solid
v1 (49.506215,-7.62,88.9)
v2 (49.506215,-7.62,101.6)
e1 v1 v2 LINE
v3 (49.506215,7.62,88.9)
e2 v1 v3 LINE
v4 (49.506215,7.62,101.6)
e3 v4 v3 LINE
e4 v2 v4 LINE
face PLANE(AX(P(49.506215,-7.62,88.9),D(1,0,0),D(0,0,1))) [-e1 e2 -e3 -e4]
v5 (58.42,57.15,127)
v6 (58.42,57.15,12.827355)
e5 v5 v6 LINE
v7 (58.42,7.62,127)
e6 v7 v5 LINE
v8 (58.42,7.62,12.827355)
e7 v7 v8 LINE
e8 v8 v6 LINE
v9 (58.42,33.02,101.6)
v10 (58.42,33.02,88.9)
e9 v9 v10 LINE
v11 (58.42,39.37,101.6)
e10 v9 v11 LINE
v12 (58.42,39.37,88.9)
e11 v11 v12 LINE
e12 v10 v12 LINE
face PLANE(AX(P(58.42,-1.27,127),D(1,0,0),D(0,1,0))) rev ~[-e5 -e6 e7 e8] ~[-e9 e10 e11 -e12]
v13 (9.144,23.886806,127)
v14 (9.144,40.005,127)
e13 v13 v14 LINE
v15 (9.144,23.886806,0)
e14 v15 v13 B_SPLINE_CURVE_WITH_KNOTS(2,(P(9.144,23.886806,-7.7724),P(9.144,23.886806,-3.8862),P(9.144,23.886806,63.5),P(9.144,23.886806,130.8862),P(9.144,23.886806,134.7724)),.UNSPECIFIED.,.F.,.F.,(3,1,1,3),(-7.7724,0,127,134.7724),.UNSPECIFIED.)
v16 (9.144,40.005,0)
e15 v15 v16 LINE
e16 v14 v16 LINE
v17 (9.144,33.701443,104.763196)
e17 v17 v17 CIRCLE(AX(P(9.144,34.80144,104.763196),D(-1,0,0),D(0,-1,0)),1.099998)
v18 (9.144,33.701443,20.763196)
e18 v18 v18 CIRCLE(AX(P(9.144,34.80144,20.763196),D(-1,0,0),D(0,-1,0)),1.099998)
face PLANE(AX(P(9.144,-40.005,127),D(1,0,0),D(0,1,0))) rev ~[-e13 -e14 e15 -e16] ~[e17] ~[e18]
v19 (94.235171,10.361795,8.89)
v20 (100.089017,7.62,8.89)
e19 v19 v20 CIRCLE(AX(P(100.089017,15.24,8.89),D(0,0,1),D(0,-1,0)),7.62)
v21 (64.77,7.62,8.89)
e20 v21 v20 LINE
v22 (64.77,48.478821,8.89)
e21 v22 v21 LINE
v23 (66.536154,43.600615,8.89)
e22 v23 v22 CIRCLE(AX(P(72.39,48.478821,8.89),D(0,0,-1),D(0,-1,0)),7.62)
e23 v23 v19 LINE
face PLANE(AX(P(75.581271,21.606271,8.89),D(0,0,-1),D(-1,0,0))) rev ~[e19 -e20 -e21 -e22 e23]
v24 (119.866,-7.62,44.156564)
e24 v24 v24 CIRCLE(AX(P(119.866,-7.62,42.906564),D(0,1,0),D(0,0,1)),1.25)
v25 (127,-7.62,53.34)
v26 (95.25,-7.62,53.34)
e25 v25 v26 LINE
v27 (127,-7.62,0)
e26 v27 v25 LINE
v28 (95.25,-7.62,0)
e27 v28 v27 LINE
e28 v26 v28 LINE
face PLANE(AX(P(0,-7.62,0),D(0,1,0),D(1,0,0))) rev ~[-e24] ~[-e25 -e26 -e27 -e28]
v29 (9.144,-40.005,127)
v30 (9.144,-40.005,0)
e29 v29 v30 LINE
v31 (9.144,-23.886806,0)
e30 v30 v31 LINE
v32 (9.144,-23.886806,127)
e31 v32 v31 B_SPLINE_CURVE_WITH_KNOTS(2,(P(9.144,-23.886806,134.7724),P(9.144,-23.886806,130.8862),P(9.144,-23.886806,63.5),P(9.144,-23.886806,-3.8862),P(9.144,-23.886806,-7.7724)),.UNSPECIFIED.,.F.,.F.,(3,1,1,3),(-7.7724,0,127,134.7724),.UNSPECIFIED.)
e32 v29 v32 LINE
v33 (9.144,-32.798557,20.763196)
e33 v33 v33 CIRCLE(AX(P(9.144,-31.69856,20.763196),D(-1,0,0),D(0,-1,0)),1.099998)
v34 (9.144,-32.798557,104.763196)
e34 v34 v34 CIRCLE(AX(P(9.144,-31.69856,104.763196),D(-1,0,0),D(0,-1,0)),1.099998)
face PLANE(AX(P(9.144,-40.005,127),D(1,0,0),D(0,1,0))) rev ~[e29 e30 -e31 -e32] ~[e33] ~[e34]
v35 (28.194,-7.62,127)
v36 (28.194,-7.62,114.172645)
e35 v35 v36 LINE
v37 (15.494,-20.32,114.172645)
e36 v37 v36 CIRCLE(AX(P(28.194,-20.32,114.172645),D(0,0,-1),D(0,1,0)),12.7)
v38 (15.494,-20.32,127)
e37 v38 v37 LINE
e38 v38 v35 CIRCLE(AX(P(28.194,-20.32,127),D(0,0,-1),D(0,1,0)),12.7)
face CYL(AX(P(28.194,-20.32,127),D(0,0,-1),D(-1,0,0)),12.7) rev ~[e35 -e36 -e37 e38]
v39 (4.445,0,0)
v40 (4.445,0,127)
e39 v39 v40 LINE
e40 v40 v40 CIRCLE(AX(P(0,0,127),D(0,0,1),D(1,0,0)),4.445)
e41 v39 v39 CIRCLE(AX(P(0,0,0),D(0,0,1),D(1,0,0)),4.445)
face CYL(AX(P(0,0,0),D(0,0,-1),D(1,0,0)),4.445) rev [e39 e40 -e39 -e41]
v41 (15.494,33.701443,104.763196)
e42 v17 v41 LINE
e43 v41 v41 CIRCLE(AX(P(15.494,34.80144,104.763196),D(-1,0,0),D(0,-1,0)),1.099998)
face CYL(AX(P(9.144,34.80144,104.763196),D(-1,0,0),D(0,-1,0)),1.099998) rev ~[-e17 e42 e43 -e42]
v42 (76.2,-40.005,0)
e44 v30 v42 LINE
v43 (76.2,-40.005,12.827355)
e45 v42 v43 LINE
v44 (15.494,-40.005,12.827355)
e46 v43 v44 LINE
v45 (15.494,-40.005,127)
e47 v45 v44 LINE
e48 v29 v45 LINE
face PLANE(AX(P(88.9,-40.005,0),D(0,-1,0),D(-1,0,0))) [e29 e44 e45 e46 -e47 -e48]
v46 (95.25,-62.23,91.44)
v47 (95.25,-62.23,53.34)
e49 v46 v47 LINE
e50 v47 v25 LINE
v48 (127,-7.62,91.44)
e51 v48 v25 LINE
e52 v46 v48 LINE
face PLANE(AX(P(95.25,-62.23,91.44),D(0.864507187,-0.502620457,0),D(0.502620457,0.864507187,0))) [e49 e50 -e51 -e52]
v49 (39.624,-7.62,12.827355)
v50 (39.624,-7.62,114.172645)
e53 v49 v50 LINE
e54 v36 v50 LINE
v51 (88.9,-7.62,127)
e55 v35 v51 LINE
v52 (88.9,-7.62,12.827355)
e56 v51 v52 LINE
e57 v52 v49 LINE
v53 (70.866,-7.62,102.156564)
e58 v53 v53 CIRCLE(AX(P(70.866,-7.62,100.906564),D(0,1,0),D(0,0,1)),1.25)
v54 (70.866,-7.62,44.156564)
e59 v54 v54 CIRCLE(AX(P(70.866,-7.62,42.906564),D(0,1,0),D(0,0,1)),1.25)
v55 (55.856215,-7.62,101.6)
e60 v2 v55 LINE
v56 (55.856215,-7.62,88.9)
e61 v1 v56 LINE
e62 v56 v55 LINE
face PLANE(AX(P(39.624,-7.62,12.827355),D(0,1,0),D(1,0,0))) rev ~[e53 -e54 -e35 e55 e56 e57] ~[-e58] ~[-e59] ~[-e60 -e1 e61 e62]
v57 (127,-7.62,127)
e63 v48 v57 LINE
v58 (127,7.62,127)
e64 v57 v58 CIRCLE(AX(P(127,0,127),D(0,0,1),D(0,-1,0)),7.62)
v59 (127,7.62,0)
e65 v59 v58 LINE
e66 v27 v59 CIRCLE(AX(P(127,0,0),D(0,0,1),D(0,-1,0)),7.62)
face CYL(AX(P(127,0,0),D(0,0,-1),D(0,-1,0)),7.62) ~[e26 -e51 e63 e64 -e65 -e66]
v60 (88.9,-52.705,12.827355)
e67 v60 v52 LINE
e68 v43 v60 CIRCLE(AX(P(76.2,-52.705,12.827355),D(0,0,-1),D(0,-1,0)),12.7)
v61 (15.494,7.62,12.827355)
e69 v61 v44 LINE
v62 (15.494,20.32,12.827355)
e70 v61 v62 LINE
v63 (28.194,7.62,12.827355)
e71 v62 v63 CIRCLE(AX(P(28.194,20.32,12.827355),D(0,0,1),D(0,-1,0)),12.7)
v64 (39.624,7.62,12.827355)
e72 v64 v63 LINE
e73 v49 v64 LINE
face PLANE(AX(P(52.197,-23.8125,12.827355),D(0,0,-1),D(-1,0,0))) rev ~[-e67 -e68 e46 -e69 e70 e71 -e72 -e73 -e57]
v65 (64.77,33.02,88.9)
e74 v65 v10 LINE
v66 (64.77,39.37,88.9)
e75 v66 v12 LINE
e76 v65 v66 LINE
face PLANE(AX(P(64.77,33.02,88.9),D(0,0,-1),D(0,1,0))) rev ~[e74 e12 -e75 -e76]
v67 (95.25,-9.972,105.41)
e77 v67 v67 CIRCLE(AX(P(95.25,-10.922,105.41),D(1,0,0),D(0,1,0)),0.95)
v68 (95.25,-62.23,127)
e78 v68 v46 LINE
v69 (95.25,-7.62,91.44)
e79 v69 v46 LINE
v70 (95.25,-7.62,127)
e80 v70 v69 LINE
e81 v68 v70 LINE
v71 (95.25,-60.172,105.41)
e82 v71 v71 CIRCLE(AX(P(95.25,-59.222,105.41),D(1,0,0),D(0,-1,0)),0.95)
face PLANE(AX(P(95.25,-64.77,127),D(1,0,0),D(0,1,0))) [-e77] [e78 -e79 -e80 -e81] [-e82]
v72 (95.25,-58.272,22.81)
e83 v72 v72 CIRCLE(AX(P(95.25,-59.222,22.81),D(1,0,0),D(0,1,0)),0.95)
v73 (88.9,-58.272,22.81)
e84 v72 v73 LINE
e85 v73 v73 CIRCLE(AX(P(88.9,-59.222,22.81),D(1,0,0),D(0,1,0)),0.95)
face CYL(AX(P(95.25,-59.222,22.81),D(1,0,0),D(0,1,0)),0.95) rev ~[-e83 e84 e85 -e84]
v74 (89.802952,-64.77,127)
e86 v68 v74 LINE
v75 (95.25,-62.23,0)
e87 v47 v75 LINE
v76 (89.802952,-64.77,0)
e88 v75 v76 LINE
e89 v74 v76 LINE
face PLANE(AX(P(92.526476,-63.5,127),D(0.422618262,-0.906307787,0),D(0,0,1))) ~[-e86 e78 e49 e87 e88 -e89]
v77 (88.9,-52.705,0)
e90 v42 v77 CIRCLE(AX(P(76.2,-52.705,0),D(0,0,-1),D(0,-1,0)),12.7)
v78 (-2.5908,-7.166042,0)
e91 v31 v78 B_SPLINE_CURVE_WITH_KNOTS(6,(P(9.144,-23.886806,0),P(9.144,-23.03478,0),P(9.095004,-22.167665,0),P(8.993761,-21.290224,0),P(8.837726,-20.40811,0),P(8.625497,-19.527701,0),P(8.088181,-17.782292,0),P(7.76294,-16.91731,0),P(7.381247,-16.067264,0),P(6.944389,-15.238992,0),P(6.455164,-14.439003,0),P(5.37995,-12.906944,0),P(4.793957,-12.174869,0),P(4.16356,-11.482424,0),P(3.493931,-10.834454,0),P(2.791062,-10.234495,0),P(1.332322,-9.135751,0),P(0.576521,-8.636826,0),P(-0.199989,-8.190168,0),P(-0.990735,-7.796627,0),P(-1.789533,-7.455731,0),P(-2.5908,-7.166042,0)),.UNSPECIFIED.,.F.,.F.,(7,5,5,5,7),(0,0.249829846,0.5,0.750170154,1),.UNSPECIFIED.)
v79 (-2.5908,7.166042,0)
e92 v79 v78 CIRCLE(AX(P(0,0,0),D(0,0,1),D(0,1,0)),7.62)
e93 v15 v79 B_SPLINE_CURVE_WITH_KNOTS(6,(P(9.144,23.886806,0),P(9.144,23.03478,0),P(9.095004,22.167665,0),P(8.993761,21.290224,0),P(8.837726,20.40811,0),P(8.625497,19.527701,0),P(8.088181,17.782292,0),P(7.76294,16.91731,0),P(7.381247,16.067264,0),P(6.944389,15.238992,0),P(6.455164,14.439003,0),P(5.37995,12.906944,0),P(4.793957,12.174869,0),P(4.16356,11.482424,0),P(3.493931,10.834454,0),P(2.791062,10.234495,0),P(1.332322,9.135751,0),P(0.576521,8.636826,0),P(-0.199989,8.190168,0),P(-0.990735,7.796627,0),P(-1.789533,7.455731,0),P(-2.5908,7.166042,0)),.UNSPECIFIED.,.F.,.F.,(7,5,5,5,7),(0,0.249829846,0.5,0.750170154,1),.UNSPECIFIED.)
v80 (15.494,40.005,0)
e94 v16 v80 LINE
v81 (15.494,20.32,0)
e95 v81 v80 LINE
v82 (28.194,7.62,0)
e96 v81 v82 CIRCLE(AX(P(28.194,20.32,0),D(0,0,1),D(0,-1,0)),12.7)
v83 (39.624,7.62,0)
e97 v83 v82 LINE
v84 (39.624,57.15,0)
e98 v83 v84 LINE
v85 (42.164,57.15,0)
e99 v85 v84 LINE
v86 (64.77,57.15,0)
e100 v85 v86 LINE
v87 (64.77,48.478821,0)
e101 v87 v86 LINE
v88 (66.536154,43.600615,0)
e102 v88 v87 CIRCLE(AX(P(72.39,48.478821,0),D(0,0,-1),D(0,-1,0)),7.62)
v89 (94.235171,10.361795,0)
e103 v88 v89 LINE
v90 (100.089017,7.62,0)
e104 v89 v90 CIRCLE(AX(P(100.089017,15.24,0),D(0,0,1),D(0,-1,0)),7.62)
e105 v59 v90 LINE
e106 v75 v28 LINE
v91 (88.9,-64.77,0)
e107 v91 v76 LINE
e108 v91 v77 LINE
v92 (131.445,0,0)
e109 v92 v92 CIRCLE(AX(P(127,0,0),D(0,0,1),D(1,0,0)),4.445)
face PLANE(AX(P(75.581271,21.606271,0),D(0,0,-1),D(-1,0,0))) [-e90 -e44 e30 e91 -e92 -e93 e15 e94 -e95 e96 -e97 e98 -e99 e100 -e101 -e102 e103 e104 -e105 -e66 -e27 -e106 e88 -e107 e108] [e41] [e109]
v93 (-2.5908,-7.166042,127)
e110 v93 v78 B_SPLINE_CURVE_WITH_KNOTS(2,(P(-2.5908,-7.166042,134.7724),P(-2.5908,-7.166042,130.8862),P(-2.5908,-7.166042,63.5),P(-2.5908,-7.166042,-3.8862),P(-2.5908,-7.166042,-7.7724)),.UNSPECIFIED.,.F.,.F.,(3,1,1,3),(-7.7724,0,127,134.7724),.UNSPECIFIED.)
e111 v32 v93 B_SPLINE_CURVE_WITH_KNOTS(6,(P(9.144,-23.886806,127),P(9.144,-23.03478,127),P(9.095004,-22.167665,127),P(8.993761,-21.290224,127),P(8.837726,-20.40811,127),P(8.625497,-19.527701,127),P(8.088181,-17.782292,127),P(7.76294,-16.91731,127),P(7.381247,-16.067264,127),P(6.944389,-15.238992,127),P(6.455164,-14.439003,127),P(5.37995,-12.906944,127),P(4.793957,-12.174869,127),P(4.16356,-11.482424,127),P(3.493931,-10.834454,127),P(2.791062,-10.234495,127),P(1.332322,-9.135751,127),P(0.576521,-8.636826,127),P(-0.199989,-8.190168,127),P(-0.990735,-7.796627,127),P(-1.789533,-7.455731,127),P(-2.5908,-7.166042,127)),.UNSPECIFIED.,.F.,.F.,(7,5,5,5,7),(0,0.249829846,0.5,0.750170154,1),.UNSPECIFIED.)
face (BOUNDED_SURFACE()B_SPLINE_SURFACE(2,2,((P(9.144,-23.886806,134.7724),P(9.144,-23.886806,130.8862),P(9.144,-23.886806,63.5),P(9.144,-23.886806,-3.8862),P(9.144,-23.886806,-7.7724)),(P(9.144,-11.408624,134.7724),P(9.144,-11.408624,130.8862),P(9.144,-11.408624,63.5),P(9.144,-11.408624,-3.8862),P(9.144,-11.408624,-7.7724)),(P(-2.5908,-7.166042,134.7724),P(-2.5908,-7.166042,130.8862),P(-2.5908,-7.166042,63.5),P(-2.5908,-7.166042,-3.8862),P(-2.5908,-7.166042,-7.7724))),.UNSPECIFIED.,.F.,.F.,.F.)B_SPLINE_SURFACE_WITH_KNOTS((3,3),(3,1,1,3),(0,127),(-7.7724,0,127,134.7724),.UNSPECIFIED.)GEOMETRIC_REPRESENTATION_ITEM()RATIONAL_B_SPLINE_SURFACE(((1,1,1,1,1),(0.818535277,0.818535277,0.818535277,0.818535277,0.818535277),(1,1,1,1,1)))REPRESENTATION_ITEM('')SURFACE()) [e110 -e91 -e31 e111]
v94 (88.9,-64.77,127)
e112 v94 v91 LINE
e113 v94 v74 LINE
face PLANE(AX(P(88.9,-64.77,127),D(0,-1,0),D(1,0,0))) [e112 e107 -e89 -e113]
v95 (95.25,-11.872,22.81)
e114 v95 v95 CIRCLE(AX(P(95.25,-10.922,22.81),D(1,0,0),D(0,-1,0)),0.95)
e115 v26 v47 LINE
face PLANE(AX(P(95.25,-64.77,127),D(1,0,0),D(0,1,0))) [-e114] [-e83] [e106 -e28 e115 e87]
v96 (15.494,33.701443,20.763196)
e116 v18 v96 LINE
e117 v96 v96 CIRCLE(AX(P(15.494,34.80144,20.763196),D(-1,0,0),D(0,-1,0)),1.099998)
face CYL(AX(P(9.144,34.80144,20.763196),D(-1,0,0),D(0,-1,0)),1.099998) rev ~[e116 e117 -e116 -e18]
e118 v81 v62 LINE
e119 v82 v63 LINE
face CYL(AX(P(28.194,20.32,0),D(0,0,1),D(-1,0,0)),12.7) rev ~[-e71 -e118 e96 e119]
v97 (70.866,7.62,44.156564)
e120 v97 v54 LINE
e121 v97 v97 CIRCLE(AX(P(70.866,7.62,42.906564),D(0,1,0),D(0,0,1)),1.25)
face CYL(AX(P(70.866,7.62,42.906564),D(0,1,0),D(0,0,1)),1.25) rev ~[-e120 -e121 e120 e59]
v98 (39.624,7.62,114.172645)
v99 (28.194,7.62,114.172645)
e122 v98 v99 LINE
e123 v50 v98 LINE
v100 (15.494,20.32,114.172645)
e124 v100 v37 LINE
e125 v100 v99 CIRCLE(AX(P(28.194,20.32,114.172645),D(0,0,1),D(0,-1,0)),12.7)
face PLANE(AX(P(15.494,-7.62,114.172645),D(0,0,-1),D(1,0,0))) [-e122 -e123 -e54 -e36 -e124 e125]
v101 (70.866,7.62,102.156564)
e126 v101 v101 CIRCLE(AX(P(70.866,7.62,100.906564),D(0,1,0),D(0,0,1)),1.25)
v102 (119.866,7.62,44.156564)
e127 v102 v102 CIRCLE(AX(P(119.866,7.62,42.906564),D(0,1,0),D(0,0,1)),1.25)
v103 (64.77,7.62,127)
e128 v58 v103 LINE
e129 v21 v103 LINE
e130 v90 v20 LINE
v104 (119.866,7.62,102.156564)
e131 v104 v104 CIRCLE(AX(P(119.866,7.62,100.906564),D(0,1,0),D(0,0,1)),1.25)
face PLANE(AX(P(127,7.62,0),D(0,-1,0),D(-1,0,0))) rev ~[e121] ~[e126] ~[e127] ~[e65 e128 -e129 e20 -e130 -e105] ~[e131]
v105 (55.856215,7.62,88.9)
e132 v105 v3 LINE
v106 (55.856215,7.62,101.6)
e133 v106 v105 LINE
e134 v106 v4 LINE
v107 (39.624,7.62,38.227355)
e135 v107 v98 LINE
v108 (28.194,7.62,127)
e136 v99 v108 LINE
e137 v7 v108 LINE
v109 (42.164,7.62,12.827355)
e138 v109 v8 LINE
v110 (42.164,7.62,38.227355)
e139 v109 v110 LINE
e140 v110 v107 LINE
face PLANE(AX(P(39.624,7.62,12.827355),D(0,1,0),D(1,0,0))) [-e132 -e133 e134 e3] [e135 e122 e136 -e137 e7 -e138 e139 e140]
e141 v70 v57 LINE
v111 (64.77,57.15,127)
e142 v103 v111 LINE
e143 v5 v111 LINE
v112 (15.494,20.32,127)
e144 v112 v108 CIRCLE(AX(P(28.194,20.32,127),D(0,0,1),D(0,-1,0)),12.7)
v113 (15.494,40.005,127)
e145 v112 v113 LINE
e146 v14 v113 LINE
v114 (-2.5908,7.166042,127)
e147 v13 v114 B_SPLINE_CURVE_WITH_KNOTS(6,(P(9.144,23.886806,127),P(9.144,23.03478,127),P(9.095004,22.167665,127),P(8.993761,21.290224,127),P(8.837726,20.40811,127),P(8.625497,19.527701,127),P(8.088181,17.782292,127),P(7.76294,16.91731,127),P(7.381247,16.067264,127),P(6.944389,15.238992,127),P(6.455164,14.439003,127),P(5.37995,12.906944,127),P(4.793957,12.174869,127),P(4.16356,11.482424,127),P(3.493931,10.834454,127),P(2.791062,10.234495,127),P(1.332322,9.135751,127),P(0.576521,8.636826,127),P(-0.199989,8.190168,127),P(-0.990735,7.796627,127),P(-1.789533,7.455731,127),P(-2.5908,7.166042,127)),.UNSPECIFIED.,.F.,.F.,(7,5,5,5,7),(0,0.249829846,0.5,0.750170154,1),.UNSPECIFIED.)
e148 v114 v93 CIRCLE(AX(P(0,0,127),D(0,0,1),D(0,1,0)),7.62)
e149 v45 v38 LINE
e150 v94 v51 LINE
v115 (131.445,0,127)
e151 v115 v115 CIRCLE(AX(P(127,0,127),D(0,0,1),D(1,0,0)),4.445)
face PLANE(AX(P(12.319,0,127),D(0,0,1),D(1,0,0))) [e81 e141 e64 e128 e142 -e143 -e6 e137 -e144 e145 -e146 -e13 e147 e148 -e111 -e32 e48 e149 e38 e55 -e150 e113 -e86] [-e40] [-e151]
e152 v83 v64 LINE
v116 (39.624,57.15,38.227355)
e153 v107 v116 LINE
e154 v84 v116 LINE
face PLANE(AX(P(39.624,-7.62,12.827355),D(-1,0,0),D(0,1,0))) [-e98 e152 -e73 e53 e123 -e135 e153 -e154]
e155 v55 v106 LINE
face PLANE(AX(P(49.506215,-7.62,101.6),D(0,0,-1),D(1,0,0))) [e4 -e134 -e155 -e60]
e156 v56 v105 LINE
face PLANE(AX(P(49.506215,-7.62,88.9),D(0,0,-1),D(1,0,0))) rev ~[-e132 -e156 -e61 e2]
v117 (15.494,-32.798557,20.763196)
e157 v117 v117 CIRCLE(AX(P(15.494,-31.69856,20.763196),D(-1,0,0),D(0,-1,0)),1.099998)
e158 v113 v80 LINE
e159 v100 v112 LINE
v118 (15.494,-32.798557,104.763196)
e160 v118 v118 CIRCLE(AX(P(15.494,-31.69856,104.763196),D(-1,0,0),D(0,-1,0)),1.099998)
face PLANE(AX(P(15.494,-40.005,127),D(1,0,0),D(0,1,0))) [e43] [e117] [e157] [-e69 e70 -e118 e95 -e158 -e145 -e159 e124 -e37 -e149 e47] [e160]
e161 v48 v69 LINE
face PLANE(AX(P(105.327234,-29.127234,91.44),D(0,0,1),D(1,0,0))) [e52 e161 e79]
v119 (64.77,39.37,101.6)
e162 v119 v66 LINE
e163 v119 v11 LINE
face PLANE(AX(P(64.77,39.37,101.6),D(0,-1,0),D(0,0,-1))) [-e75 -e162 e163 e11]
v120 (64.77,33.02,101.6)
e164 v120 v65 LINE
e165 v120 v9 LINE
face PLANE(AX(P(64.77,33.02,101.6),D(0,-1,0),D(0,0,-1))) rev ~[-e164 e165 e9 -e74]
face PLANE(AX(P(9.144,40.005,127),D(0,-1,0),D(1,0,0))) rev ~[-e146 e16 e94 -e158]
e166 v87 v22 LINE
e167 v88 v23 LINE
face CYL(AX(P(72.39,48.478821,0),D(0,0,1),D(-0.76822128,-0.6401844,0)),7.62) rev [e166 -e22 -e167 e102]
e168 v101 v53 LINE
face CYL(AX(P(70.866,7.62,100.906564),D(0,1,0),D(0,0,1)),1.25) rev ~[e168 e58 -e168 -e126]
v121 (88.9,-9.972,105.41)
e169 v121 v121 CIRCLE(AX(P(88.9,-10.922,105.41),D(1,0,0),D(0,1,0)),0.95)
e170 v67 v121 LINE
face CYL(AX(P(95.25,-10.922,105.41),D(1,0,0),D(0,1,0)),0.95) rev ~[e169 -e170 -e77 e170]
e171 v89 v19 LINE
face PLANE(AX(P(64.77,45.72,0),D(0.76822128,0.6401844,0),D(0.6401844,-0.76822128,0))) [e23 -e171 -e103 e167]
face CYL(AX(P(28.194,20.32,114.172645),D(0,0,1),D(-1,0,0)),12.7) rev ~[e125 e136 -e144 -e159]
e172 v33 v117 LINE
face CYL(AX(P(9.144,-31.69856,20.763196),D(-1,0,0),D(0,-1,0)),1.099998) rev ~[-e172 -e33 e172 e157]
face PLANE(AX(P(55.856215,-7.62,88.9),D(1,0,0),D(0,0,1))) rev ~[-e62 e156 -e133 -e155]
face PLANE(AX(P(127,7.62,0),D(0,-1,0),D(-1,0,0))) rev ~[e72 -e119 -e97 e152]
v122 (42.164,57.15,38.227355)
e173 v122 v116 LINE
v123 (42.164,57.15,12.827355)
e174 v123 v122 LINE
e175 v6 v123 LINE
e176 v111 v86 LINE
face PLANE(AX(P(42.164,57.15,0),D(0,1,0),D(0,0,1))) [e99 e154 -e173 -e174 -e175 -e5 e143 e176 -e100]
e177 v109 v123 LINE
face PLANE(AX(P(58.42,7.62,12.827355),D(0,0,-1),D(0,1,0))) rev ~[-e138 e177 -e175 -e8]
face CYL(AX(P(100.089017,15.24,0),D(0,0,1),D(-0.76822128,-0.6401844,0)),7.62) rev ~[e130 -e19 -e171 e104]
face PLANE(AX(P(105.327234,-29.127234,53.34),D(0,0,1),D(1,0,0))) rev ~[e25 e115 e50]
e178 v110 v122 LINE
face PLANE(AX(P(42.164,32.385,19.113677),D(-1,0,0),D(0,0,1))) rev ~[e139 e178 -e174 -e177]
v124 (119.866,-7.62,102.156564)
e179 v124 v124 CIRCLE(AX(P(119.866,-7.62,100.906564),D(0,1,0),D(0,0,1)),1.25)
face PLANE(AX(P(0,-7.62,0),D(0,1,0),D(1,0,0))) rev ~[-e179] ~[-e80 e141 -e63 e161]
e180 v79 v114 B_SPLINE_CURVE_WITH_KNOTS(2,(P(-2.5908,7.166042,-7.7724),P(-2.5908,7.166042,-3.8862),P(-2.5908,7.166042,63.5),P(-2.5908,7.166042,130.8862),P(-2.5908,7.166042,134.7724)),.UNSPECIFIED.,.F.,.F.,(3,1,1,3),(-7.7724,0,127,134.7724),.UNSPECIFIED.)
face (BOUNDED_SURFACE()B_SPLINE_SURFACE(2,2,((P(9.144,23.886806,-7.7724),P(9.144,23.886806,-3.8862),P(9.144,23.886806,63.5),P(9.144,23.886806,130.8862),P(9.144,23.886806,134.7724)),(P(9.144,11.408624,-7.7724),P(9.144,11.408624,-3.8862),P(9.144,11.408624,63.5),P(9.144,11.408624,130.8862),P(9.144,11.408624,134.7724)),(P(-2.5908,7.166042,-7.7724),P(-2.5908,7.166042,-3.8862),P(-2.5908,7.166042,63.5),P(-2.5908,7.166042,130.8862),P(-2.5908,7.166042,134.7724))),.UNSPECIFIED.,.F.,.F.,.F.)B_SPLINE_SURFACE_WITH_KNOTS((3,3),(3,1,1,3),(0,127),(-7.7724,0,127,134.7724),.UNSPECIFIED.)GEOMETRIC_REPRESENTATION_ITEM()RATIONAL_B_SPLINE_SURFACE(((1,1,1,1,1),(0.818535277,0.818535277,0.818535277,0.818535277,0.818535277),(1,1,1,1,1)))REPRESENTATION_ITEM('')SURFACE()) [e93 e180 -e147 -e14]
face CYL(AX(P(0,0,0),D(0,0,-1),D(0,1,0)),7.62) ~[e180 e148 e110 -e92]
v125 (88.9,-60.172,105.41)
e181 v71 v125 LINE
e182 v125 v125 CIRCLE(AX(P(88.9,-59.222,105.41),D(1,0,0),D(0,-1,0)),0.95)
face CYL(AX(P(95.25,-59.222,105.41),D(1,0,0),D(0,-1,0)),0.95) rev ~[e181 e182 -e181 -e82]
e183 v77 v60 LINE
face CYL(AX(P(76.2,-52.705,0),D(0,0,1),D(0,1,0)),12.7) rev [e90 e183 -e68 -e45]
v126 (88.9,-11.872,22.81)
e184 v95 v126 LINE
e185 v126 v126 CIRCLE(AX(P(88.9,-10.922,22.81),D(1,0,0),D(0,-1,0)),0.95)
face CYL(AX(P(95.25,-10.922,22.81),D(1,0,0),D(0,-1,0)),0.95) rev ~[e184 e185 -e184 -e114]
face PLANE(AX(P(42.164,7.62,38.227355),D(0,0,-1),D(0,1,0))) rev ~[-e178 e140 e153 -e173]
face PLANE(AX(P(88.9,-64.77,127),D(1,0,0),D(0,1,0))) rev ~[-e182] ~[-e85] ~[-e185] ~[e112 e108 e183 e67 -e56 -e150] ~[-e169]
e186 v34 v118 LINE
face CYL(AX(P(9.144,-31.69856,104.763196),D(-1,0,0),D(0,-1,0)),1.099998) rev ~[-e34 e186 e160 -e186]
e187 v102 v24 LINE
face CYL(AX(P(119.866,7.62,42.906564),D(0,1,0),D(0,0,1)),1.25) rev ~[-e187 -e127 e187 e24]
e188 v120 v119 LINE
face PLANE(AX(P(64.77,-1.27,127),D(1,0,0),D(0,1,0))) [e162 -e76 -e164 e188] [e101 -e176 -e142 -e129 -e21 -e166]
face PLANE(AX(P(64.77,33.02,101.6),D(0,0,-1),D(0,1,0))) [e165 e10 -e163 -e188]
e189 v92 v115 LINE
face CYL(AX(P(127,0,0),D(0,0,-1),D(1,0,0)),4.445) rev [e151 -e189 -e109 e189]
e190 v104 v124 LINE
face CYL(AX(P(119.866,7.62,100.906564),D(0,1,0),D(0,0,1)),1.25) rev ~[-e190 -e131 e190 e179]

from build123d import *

# Parameters (mm, degrees)
SKETCH1_R            = 4.445
BOSS_EXTRUDE1_DEPTH  = 127
SKETCH7_W            = 6.35
SKETCH7_H            = 57.15
SKETCH7_H_2          = 80.01
SKETCH7_H_3          = 66.04
BOSS_EXTRUDE4_DEPTH  = 127
CUT_EXTRUDE2_REACH   = 191.917
SKETCH8_R            = 1.0999978
CUT_EXTRUDE4_REACH   = 200.726
SKETCH11_W           = 42.926
SKETCH11_H           = 101.345290086
FILLET1_R            = 17.78
CUT_EXTRUDE6_REACH   = 200.726
SKETCH14_R           = 1.249999967
SKETCH15_W           = 6.35
SKETCH15_H           = 127
CUT_EXTRUDE7_DEPTH   = 7.62
SKETCH16_W           = 12.827354957
SKETCH16_H           = 49.53
BOSS_EXTRUDE5_DEPTH  = 16.256
SKETCH17_W           = 38.227354957
SKETCH17_H           = 49.53
BOSS_EXTRUDE6_DEPTH  = 2.54
SKETCH18_W           = 21.632068301
SKETCH18_H           = 15.24
BOSS_EXTRUDE7_DEPTH  = 101.345290086
FILLET2_R            = 12.7
SKETCH23_R           = 0.95
CUT_EXTRUDE8_DEPTH   = 25.4
CHAMFER1_SIZE        = 2.54
CHAMFER1_SIZE2       = 5.447047578
BOSS_EXTRUDE10_DEPTH = 38.1
SKETCH26_W           = 73.406
SKETCH26_H           = 32.385
BOSS_EXTRUDE11_DEPTH = 12.827354957
FILLET3_R            = 12.7
BOSS_EXTRUDE12_DEPTH = 8.89
FILLET4_R            = 7.62
SKETCH28_W           = 6.35
SKETCH28_H           = 12.7
CUT_EXTRUDE9_DEPTH   = 25.4
SKETCH29_W           = 12.7
SKETCH29_H           = 6.35
CUT_EXTRUDE10_DEPTH  = 25.4


with BuildPart() as part:
    # Sketch1 → Boss-Extrude1 (new body)
    with BuildSketch(Plane.XY):
        with BuildLine():
            Line((0, -7.62), (127, -7.62))
            ThreePointArc((127, -7.62), (134.62, 0), (127, 7.62))
            Line((127, 7.62), (0, 7.62))
            ThreePointArc((0, 7.62), (-7.62, 0), (0, -7.62))
        make_face()
        with Locations((127, 0)):
            Circle(SKETCH1_R, mode=Mode.SUBTRACT)
        Circle(SKETCH1_R, mode=Mode.SUBTRACT)
    extrude(amount=BOSS_EXTRUDE1_DEPTH)

    # Sketch7 → Boss-Extrude4 (add)
    with BuildSketch(Plane.XY.offset(127)):
        with Locations((92.075, -36.195)):
            Rectangle(SKETCH7_W, SKETCH7_H)
        with Locations((12.319, 0)):
            Rectangle(SKETCH7_W, SKETCH7_H_2)
        with Locations((61.595, 31.75)):
            Rectangle(SKETCH7_W, SKETCH7_H_3)
    extrude(amount=-BOSS_EXTRUDE4_DEPTH)

    # Sketch8 → Cut-Extrude2 (cut, up to next)
    with BuildSketch(Plane.ZY.offset(-9.144), mode=Mode.PRIVATE) as cut_extrude2_sk1:
        with Locations(Location((104.763196308, 34.801440473, 0), (0, 0, 270))):
            Circle(SKETCH8_R)
    cut_extrude2_tool1 = extrude(cut_extrude2_sk1.sketch, amount=-CUT_EXTRUDE2_REACH, mode=Mode.PRIVATE) & part.part
    # Sketch8 → Cut-Extrude2 (cut, up to next)
    with BuildSketch(Plane.ZY.offset(-9.144), mode=Mode.PRIVATE) as cut_extrude2_sk2:
        with Locations(Location((104.763196308, -31.698559623, 0), (0, 0, 270))):
            Circle(SKETCH8_R)
    cut_extrude2_tool2 = extrude(cut_extrude2_sk2.sketch, amount=-CUT_EXTRUDE2_REACH, mode=Mode.PRIVATE) & part.part
    # Sketch8 → Cut-Extrude2 (cut, up to next)
    with BuildSketch(Plane.ZY.offset(-9.144), mode=Mode.PRIVATE) as cut_extrude2_sk3:
        with Locations(Location((20.763196414, -31.698559623, 0), (0, 0, 270))):
            Circle(SKETCH8_R)
    cut_extrude2_tool3 = extrude(cut_extrude2_sk3.sketch, amount=-CUT_EXTRUDE2_REACH, mode=Mode.PRIVATE) & part.part
    # Sketch8 → Cut-Extrude2 (cut, up to next)
    with BuildSketch(Plane.ZY.offset(-9.144), mode=Mode.PRIVATE) as cut_extrude2_sk4:
        with Locations(Location((20.763196414, 34.801440473, 0), (0, 0, 270))):
            Circle(SKETCH8_R)
    cut_extrude2_tool4 = extrude(cut_extrude2_sk4.sketch, amount=-CUT_EXTRUDE2_REACH, mode=Mode.PRIVATE) & part.part
    add(cut_extrude2_tool1.solids().sort_by_distance((9.144, 34.80144, 104.763196))[0], mode=Mode.SUBTRACT)
    add(cut_extrude2_tool2.solids().sort_by_distance((9.144, -31.69856, 104.763196))[0], mode=Mode.SUBTRACT)
    add(cut_extrude2_tool3.solids().sort_by_distance((9.144, -31.69856, 20.763196))[0], mode=Mode.SUBTRACT)
    add(cut_extrude2_tool4.solids().sort_by_distance((9.144, 34.80144, 20.763196))[0], mode=Mode.SUBTRACT)

    # Sketch11 → Cut-Extrude4 (cut, up to next)
    with BuildSketch(Plane.XZ.offset(7.62), mode=Mode.PRIVATE) as cut_extrude4_sk1:
        with Locations((36.957, 63.5)):
            Rectangle(SKETCH11_W, SKETCH11_H)
    cut_extrude4_tool1 = extrude(cut_extrude4_sk1.sketch, amount=-CUT_EXTRUDE4_REACH, mode=Mode.PRIVATE) & part.part
    add(cut_extrude4_tool1.solids().sort_by_distance((36.957, -7.62, 63.5))[0], mode=Mode.SUBTRACT)

    # Fillet1
    fillet1_edges = [part.edges().sort_by_distance(p)[0] for p in [
        (9.144, -7.62, 63.5),
        (9.144, 7.62, 63.5),
    ]]
    fillet(fillet1_edges, radius=FILLET1_R)

    # Sketch14 → Cut-Extrude6 (cut, up to next)
    with BuildSketch(Plane(origin=(0, 7.62, 0), x_dir=(1, 0, 0), z_dir=(0, 1, 0)), mode=Mode.PRIVATE) as cut_extrude6_sk1:
        with Locations(Location((119.866000044, -42.90656366, 0), (0, 0, 270))):
            Circle(SKETCH14_R)
    cut_extrude6_tool1 = extrude(cut_extrude6_sk1.sketch, amount=-CUT_EXTRUDE6_REACH, mode=Mode.PRIVATE) & part.part
    # Sketch14 → Cut-Extrude6 (cut, up to next)
    with BuildSketch(Plane(origin=(0, 7.62, 0), x_dir=(1, 0, 0), z_dir=(0, 1, 0)), mode=Mode.PRIVATE) as cut_extrude6_sk2:
        with Locations(Location((70.866, -42.90656366, 0), (0, 0, 270))):
            Circle(SKETCH14_R)
    cut_extrude6_tool2 = extrude(cut_extrude6_sk2.sketch, amount=-CUT_EXTRUDE6_REACH, mode=Mode.PRIVATE) & part.part
    # Sketch14 → Cut-Extrude6 (cut, up to next)
    with BuildSketch(Plane(origin=(0, 7.62, 0), x_dir=(1, 0, 0), z_dir=(0, 1, 0)), mode=Mode.PRIVATE) as cut_extrude6_sk3:
        with Locations(Location((70.866, -100.906563738, 0), (0, 0, 270))):
            Circle(SKETCH14_R)
    cut_extrude6_tool3 = extrude(cut_extrude6_sk3.sketch, amount=-CUT_EXTRUDE6_REACH, mode=Mode.PRIVATE) & part.part
    # Sketch14 → Cut-Extrude6 (cut, up to next)
    with BuildSketch(Plane(origin=(0, 7.62, 0), x_dir=(1, 0, 0), z_dir=(0, 1, 0)), mode=Mode.PRIVATE) as cut_extrude6_sk4:
        with Locations(Location((119.866000044, -100.906563738, 0), (0, 0, 270))):
            Circle(SKETCH14_R)
    cut_extrude6_tool4 = extrude(cut_extrude6_sk4.sketch, amount=-CUT_EXTRUDE6_REACH, mode=Mode.PRIVATE) & part.part
    add(cut_extrude6_tool1.solids().sort_by_distance((119.866, 7.62, 42.906564))[0], mode=Mode.SUBTRACT)
    add(cut_extrude6_tool2.solids().sort_by_distance((70.866, 7.62, 42.906564))[0], mode=Mode.SUBTRACT)
    add(cut_extrude6_tool3.solids().sort_by_distance((70.866, 7.62, 100.906564))[0], mode=Mode.SUBTRACT)
    add(cut_extrude6_tool4.solids().sort_by_distance((119.866, 7.62, 100.906564))[0], mode=Mode.SUBTRACT)

    # Sketch15 → Cut-Extrude7 (cut)
    with BuildSketch(Plane(origin=(0, 64.77, 0), x_dir=(1, 0, 0), z_dir=(0, 1, 0))):
        with Locations((61.595, -63.5)):
            Rectangle(SKETCH15_W, SKETCH15_H)
    extrude(amount=-CUT_EXTRUDE7_DEPTH, mode=Mode.SUBTRACT)

    # Sketch16 → Boss-Extrude5 (add)
    with BuildSketch(Plane.ZY.offset(-58.42)):
        with Locations((6.413677479, 32.385)):
            Rectangle(SKETCH16_W, SKETCH16_H)
    extrude(amount=BOSS_EXTRUDE5_DEPTH)

    # Sketch17 → Boss-Extrude6 (add)
    with BuildSketch(Plane.ZY.offset(-42.164)):
        with Locations((19.113677479, 32.385)):
            Rectangle(SKETCH17_W, SKETCH17_H)
    extrude(amount=BOSS_EXTRUDE6_DEPTH)

    # Sketch18 → Boss-Extrude7 (add)
    with BuildSketch(Plane.XY.offset(12.827354957)):
        with Locations((50.440034151, 0)):
            Rectangle(SKETCH18_W, SKETCH18_H)
    extrude(amount=BOSS_EXTRUDE7_DEPTH)

    # Fillet2
    fillet2_edges = [part.edges().sort_by_distance(p)[0] for p in [
        (15.494, 7.62, 6.413677479),
        (15.494, -7.62, 120.586322521),
        (15.494, 7.62, 120.586322521),
    ]]
    fillet(fillet2_edges, radius=FILLET2_R)

    # Sketch23 → Cut-Extrude8 (cut)
    with BuildSketch(Plane(origin=(95.25, 0, 0), x_dir=(0, 0, -1), z_dir=(1, 0, 0))):
        with Locations(Location((-105.41, -10.922, 0), (0, 0, 90))):
            Circle(SKETCH23_R)
        with Locations(Location((-22.81, -10.922, 0), (0, 0, 270))):
            Circle(SKETCH23_R)
        with Locations(Location((-22.81, -59.222, 0), (0, 0, 90))):
            Circle(SKETCH23_R)
        with Locations(Location((-105.41, -59.222, 0), (0, 0, 270))):
            Circle(SKETCH23_R)
    extrude(amount=-CUT_EXTRUDE8_DEPTH, mode=Mode.SUBTRACT)

    # Chamfer1
    chamfer1_edges = [part.edges().sort_by_distance(p)[0] for p in [
        (95.25, -64.77, 63.5),
    ]]
    chamfer1_side = [part.faces().sort_by_distance(p)[0] for p in [
        (95.25, -36.196757503, 63.499045346),
    ]]
    chamfer(chamfer1_edges, length=CHAMFER1_SIZE, length2=CHAMFER1_SIZE2, reference=chamfer1_side[0])

    # Sketch25 → Boss-Extrude10 (add)
    with BuildSketch(Plane.XY.offset(91.44)):
        Polygon((127, -7.62), (95.25, -7.62), (95.25, -62.23), align=None)
    extrude(amount=-BOSS_EXTRUDE10_DEPTH)

    # Sketch26 → Boss-Extrude11 (add)
    with BuildSketch(Plane(origin=(0, 0, 0), x_dir=(-1, 0, 0), z_dir=(0, 0, -1))):
        with Locations((-52.197, -23.8125)):
            Rectangle(SKETCH26_W, SKETCH26_H)
    extrude(amount=-BOSS_EXTRUDE11_DEPTH)

    # Fillet3
    fillet3_edges = [part.edges().sort_by_distance(p)[0] for p in [
        (88.9, -40.005, 6.413677479),
    ]]
    fillet(fillet3_edges, radius=FILLET3_R)

    # Sketch27 → Boss-Extrude12 (add)
    with BuildSketch(Plane(origin=(0, 0, 0), x_dir=(-1, 0, 0), z_dir=(0, 0, -1))):
        Polygon((-64.77, 7.62), (-64.77, 45.72), (-96.52, 7.62), align=None)
    extrude(amount=-BOSS_EXTRUDE12_DEPTH)

    # Fillet4
    fillet4_edges = [part.edges().sort_by_distance(p)[0] for p in [
        (96.52, 7.62, 4.445),
        (64.77, 45.72, 4.445),
    ]]
    fillet(fillet4_edges, radius=FILLET4_R)

    # Sketch28 → Cut-Extrude9 (cut)
    with BuildSketch(Plane.XZ.offset(7.62)):
        with Locations((52.681214832, 95.25)):
            Rectangle(SKETCH28_W, SKETCH28_H)
    extrude(amount=-CUT_EXTRUDE9_DEPTH, mode=Mode.SUBTRACT)

    # Sketch29 → Cut-Extrude10 (cut)
    with BuildSketch(Plane(origin=(64.77, 0, 0), x_dir=(0, 0, -1), z_dir=(1, 0, 0))):
        with Locations((-95.25, 36.195)):
            Rectangle(SKETCH29_W, SKETCH29_H)
    extrude(amount=-CUT_EXTRUDE10_DEPTH, mode=Mode.SUBTRACT)


solid = part.part
